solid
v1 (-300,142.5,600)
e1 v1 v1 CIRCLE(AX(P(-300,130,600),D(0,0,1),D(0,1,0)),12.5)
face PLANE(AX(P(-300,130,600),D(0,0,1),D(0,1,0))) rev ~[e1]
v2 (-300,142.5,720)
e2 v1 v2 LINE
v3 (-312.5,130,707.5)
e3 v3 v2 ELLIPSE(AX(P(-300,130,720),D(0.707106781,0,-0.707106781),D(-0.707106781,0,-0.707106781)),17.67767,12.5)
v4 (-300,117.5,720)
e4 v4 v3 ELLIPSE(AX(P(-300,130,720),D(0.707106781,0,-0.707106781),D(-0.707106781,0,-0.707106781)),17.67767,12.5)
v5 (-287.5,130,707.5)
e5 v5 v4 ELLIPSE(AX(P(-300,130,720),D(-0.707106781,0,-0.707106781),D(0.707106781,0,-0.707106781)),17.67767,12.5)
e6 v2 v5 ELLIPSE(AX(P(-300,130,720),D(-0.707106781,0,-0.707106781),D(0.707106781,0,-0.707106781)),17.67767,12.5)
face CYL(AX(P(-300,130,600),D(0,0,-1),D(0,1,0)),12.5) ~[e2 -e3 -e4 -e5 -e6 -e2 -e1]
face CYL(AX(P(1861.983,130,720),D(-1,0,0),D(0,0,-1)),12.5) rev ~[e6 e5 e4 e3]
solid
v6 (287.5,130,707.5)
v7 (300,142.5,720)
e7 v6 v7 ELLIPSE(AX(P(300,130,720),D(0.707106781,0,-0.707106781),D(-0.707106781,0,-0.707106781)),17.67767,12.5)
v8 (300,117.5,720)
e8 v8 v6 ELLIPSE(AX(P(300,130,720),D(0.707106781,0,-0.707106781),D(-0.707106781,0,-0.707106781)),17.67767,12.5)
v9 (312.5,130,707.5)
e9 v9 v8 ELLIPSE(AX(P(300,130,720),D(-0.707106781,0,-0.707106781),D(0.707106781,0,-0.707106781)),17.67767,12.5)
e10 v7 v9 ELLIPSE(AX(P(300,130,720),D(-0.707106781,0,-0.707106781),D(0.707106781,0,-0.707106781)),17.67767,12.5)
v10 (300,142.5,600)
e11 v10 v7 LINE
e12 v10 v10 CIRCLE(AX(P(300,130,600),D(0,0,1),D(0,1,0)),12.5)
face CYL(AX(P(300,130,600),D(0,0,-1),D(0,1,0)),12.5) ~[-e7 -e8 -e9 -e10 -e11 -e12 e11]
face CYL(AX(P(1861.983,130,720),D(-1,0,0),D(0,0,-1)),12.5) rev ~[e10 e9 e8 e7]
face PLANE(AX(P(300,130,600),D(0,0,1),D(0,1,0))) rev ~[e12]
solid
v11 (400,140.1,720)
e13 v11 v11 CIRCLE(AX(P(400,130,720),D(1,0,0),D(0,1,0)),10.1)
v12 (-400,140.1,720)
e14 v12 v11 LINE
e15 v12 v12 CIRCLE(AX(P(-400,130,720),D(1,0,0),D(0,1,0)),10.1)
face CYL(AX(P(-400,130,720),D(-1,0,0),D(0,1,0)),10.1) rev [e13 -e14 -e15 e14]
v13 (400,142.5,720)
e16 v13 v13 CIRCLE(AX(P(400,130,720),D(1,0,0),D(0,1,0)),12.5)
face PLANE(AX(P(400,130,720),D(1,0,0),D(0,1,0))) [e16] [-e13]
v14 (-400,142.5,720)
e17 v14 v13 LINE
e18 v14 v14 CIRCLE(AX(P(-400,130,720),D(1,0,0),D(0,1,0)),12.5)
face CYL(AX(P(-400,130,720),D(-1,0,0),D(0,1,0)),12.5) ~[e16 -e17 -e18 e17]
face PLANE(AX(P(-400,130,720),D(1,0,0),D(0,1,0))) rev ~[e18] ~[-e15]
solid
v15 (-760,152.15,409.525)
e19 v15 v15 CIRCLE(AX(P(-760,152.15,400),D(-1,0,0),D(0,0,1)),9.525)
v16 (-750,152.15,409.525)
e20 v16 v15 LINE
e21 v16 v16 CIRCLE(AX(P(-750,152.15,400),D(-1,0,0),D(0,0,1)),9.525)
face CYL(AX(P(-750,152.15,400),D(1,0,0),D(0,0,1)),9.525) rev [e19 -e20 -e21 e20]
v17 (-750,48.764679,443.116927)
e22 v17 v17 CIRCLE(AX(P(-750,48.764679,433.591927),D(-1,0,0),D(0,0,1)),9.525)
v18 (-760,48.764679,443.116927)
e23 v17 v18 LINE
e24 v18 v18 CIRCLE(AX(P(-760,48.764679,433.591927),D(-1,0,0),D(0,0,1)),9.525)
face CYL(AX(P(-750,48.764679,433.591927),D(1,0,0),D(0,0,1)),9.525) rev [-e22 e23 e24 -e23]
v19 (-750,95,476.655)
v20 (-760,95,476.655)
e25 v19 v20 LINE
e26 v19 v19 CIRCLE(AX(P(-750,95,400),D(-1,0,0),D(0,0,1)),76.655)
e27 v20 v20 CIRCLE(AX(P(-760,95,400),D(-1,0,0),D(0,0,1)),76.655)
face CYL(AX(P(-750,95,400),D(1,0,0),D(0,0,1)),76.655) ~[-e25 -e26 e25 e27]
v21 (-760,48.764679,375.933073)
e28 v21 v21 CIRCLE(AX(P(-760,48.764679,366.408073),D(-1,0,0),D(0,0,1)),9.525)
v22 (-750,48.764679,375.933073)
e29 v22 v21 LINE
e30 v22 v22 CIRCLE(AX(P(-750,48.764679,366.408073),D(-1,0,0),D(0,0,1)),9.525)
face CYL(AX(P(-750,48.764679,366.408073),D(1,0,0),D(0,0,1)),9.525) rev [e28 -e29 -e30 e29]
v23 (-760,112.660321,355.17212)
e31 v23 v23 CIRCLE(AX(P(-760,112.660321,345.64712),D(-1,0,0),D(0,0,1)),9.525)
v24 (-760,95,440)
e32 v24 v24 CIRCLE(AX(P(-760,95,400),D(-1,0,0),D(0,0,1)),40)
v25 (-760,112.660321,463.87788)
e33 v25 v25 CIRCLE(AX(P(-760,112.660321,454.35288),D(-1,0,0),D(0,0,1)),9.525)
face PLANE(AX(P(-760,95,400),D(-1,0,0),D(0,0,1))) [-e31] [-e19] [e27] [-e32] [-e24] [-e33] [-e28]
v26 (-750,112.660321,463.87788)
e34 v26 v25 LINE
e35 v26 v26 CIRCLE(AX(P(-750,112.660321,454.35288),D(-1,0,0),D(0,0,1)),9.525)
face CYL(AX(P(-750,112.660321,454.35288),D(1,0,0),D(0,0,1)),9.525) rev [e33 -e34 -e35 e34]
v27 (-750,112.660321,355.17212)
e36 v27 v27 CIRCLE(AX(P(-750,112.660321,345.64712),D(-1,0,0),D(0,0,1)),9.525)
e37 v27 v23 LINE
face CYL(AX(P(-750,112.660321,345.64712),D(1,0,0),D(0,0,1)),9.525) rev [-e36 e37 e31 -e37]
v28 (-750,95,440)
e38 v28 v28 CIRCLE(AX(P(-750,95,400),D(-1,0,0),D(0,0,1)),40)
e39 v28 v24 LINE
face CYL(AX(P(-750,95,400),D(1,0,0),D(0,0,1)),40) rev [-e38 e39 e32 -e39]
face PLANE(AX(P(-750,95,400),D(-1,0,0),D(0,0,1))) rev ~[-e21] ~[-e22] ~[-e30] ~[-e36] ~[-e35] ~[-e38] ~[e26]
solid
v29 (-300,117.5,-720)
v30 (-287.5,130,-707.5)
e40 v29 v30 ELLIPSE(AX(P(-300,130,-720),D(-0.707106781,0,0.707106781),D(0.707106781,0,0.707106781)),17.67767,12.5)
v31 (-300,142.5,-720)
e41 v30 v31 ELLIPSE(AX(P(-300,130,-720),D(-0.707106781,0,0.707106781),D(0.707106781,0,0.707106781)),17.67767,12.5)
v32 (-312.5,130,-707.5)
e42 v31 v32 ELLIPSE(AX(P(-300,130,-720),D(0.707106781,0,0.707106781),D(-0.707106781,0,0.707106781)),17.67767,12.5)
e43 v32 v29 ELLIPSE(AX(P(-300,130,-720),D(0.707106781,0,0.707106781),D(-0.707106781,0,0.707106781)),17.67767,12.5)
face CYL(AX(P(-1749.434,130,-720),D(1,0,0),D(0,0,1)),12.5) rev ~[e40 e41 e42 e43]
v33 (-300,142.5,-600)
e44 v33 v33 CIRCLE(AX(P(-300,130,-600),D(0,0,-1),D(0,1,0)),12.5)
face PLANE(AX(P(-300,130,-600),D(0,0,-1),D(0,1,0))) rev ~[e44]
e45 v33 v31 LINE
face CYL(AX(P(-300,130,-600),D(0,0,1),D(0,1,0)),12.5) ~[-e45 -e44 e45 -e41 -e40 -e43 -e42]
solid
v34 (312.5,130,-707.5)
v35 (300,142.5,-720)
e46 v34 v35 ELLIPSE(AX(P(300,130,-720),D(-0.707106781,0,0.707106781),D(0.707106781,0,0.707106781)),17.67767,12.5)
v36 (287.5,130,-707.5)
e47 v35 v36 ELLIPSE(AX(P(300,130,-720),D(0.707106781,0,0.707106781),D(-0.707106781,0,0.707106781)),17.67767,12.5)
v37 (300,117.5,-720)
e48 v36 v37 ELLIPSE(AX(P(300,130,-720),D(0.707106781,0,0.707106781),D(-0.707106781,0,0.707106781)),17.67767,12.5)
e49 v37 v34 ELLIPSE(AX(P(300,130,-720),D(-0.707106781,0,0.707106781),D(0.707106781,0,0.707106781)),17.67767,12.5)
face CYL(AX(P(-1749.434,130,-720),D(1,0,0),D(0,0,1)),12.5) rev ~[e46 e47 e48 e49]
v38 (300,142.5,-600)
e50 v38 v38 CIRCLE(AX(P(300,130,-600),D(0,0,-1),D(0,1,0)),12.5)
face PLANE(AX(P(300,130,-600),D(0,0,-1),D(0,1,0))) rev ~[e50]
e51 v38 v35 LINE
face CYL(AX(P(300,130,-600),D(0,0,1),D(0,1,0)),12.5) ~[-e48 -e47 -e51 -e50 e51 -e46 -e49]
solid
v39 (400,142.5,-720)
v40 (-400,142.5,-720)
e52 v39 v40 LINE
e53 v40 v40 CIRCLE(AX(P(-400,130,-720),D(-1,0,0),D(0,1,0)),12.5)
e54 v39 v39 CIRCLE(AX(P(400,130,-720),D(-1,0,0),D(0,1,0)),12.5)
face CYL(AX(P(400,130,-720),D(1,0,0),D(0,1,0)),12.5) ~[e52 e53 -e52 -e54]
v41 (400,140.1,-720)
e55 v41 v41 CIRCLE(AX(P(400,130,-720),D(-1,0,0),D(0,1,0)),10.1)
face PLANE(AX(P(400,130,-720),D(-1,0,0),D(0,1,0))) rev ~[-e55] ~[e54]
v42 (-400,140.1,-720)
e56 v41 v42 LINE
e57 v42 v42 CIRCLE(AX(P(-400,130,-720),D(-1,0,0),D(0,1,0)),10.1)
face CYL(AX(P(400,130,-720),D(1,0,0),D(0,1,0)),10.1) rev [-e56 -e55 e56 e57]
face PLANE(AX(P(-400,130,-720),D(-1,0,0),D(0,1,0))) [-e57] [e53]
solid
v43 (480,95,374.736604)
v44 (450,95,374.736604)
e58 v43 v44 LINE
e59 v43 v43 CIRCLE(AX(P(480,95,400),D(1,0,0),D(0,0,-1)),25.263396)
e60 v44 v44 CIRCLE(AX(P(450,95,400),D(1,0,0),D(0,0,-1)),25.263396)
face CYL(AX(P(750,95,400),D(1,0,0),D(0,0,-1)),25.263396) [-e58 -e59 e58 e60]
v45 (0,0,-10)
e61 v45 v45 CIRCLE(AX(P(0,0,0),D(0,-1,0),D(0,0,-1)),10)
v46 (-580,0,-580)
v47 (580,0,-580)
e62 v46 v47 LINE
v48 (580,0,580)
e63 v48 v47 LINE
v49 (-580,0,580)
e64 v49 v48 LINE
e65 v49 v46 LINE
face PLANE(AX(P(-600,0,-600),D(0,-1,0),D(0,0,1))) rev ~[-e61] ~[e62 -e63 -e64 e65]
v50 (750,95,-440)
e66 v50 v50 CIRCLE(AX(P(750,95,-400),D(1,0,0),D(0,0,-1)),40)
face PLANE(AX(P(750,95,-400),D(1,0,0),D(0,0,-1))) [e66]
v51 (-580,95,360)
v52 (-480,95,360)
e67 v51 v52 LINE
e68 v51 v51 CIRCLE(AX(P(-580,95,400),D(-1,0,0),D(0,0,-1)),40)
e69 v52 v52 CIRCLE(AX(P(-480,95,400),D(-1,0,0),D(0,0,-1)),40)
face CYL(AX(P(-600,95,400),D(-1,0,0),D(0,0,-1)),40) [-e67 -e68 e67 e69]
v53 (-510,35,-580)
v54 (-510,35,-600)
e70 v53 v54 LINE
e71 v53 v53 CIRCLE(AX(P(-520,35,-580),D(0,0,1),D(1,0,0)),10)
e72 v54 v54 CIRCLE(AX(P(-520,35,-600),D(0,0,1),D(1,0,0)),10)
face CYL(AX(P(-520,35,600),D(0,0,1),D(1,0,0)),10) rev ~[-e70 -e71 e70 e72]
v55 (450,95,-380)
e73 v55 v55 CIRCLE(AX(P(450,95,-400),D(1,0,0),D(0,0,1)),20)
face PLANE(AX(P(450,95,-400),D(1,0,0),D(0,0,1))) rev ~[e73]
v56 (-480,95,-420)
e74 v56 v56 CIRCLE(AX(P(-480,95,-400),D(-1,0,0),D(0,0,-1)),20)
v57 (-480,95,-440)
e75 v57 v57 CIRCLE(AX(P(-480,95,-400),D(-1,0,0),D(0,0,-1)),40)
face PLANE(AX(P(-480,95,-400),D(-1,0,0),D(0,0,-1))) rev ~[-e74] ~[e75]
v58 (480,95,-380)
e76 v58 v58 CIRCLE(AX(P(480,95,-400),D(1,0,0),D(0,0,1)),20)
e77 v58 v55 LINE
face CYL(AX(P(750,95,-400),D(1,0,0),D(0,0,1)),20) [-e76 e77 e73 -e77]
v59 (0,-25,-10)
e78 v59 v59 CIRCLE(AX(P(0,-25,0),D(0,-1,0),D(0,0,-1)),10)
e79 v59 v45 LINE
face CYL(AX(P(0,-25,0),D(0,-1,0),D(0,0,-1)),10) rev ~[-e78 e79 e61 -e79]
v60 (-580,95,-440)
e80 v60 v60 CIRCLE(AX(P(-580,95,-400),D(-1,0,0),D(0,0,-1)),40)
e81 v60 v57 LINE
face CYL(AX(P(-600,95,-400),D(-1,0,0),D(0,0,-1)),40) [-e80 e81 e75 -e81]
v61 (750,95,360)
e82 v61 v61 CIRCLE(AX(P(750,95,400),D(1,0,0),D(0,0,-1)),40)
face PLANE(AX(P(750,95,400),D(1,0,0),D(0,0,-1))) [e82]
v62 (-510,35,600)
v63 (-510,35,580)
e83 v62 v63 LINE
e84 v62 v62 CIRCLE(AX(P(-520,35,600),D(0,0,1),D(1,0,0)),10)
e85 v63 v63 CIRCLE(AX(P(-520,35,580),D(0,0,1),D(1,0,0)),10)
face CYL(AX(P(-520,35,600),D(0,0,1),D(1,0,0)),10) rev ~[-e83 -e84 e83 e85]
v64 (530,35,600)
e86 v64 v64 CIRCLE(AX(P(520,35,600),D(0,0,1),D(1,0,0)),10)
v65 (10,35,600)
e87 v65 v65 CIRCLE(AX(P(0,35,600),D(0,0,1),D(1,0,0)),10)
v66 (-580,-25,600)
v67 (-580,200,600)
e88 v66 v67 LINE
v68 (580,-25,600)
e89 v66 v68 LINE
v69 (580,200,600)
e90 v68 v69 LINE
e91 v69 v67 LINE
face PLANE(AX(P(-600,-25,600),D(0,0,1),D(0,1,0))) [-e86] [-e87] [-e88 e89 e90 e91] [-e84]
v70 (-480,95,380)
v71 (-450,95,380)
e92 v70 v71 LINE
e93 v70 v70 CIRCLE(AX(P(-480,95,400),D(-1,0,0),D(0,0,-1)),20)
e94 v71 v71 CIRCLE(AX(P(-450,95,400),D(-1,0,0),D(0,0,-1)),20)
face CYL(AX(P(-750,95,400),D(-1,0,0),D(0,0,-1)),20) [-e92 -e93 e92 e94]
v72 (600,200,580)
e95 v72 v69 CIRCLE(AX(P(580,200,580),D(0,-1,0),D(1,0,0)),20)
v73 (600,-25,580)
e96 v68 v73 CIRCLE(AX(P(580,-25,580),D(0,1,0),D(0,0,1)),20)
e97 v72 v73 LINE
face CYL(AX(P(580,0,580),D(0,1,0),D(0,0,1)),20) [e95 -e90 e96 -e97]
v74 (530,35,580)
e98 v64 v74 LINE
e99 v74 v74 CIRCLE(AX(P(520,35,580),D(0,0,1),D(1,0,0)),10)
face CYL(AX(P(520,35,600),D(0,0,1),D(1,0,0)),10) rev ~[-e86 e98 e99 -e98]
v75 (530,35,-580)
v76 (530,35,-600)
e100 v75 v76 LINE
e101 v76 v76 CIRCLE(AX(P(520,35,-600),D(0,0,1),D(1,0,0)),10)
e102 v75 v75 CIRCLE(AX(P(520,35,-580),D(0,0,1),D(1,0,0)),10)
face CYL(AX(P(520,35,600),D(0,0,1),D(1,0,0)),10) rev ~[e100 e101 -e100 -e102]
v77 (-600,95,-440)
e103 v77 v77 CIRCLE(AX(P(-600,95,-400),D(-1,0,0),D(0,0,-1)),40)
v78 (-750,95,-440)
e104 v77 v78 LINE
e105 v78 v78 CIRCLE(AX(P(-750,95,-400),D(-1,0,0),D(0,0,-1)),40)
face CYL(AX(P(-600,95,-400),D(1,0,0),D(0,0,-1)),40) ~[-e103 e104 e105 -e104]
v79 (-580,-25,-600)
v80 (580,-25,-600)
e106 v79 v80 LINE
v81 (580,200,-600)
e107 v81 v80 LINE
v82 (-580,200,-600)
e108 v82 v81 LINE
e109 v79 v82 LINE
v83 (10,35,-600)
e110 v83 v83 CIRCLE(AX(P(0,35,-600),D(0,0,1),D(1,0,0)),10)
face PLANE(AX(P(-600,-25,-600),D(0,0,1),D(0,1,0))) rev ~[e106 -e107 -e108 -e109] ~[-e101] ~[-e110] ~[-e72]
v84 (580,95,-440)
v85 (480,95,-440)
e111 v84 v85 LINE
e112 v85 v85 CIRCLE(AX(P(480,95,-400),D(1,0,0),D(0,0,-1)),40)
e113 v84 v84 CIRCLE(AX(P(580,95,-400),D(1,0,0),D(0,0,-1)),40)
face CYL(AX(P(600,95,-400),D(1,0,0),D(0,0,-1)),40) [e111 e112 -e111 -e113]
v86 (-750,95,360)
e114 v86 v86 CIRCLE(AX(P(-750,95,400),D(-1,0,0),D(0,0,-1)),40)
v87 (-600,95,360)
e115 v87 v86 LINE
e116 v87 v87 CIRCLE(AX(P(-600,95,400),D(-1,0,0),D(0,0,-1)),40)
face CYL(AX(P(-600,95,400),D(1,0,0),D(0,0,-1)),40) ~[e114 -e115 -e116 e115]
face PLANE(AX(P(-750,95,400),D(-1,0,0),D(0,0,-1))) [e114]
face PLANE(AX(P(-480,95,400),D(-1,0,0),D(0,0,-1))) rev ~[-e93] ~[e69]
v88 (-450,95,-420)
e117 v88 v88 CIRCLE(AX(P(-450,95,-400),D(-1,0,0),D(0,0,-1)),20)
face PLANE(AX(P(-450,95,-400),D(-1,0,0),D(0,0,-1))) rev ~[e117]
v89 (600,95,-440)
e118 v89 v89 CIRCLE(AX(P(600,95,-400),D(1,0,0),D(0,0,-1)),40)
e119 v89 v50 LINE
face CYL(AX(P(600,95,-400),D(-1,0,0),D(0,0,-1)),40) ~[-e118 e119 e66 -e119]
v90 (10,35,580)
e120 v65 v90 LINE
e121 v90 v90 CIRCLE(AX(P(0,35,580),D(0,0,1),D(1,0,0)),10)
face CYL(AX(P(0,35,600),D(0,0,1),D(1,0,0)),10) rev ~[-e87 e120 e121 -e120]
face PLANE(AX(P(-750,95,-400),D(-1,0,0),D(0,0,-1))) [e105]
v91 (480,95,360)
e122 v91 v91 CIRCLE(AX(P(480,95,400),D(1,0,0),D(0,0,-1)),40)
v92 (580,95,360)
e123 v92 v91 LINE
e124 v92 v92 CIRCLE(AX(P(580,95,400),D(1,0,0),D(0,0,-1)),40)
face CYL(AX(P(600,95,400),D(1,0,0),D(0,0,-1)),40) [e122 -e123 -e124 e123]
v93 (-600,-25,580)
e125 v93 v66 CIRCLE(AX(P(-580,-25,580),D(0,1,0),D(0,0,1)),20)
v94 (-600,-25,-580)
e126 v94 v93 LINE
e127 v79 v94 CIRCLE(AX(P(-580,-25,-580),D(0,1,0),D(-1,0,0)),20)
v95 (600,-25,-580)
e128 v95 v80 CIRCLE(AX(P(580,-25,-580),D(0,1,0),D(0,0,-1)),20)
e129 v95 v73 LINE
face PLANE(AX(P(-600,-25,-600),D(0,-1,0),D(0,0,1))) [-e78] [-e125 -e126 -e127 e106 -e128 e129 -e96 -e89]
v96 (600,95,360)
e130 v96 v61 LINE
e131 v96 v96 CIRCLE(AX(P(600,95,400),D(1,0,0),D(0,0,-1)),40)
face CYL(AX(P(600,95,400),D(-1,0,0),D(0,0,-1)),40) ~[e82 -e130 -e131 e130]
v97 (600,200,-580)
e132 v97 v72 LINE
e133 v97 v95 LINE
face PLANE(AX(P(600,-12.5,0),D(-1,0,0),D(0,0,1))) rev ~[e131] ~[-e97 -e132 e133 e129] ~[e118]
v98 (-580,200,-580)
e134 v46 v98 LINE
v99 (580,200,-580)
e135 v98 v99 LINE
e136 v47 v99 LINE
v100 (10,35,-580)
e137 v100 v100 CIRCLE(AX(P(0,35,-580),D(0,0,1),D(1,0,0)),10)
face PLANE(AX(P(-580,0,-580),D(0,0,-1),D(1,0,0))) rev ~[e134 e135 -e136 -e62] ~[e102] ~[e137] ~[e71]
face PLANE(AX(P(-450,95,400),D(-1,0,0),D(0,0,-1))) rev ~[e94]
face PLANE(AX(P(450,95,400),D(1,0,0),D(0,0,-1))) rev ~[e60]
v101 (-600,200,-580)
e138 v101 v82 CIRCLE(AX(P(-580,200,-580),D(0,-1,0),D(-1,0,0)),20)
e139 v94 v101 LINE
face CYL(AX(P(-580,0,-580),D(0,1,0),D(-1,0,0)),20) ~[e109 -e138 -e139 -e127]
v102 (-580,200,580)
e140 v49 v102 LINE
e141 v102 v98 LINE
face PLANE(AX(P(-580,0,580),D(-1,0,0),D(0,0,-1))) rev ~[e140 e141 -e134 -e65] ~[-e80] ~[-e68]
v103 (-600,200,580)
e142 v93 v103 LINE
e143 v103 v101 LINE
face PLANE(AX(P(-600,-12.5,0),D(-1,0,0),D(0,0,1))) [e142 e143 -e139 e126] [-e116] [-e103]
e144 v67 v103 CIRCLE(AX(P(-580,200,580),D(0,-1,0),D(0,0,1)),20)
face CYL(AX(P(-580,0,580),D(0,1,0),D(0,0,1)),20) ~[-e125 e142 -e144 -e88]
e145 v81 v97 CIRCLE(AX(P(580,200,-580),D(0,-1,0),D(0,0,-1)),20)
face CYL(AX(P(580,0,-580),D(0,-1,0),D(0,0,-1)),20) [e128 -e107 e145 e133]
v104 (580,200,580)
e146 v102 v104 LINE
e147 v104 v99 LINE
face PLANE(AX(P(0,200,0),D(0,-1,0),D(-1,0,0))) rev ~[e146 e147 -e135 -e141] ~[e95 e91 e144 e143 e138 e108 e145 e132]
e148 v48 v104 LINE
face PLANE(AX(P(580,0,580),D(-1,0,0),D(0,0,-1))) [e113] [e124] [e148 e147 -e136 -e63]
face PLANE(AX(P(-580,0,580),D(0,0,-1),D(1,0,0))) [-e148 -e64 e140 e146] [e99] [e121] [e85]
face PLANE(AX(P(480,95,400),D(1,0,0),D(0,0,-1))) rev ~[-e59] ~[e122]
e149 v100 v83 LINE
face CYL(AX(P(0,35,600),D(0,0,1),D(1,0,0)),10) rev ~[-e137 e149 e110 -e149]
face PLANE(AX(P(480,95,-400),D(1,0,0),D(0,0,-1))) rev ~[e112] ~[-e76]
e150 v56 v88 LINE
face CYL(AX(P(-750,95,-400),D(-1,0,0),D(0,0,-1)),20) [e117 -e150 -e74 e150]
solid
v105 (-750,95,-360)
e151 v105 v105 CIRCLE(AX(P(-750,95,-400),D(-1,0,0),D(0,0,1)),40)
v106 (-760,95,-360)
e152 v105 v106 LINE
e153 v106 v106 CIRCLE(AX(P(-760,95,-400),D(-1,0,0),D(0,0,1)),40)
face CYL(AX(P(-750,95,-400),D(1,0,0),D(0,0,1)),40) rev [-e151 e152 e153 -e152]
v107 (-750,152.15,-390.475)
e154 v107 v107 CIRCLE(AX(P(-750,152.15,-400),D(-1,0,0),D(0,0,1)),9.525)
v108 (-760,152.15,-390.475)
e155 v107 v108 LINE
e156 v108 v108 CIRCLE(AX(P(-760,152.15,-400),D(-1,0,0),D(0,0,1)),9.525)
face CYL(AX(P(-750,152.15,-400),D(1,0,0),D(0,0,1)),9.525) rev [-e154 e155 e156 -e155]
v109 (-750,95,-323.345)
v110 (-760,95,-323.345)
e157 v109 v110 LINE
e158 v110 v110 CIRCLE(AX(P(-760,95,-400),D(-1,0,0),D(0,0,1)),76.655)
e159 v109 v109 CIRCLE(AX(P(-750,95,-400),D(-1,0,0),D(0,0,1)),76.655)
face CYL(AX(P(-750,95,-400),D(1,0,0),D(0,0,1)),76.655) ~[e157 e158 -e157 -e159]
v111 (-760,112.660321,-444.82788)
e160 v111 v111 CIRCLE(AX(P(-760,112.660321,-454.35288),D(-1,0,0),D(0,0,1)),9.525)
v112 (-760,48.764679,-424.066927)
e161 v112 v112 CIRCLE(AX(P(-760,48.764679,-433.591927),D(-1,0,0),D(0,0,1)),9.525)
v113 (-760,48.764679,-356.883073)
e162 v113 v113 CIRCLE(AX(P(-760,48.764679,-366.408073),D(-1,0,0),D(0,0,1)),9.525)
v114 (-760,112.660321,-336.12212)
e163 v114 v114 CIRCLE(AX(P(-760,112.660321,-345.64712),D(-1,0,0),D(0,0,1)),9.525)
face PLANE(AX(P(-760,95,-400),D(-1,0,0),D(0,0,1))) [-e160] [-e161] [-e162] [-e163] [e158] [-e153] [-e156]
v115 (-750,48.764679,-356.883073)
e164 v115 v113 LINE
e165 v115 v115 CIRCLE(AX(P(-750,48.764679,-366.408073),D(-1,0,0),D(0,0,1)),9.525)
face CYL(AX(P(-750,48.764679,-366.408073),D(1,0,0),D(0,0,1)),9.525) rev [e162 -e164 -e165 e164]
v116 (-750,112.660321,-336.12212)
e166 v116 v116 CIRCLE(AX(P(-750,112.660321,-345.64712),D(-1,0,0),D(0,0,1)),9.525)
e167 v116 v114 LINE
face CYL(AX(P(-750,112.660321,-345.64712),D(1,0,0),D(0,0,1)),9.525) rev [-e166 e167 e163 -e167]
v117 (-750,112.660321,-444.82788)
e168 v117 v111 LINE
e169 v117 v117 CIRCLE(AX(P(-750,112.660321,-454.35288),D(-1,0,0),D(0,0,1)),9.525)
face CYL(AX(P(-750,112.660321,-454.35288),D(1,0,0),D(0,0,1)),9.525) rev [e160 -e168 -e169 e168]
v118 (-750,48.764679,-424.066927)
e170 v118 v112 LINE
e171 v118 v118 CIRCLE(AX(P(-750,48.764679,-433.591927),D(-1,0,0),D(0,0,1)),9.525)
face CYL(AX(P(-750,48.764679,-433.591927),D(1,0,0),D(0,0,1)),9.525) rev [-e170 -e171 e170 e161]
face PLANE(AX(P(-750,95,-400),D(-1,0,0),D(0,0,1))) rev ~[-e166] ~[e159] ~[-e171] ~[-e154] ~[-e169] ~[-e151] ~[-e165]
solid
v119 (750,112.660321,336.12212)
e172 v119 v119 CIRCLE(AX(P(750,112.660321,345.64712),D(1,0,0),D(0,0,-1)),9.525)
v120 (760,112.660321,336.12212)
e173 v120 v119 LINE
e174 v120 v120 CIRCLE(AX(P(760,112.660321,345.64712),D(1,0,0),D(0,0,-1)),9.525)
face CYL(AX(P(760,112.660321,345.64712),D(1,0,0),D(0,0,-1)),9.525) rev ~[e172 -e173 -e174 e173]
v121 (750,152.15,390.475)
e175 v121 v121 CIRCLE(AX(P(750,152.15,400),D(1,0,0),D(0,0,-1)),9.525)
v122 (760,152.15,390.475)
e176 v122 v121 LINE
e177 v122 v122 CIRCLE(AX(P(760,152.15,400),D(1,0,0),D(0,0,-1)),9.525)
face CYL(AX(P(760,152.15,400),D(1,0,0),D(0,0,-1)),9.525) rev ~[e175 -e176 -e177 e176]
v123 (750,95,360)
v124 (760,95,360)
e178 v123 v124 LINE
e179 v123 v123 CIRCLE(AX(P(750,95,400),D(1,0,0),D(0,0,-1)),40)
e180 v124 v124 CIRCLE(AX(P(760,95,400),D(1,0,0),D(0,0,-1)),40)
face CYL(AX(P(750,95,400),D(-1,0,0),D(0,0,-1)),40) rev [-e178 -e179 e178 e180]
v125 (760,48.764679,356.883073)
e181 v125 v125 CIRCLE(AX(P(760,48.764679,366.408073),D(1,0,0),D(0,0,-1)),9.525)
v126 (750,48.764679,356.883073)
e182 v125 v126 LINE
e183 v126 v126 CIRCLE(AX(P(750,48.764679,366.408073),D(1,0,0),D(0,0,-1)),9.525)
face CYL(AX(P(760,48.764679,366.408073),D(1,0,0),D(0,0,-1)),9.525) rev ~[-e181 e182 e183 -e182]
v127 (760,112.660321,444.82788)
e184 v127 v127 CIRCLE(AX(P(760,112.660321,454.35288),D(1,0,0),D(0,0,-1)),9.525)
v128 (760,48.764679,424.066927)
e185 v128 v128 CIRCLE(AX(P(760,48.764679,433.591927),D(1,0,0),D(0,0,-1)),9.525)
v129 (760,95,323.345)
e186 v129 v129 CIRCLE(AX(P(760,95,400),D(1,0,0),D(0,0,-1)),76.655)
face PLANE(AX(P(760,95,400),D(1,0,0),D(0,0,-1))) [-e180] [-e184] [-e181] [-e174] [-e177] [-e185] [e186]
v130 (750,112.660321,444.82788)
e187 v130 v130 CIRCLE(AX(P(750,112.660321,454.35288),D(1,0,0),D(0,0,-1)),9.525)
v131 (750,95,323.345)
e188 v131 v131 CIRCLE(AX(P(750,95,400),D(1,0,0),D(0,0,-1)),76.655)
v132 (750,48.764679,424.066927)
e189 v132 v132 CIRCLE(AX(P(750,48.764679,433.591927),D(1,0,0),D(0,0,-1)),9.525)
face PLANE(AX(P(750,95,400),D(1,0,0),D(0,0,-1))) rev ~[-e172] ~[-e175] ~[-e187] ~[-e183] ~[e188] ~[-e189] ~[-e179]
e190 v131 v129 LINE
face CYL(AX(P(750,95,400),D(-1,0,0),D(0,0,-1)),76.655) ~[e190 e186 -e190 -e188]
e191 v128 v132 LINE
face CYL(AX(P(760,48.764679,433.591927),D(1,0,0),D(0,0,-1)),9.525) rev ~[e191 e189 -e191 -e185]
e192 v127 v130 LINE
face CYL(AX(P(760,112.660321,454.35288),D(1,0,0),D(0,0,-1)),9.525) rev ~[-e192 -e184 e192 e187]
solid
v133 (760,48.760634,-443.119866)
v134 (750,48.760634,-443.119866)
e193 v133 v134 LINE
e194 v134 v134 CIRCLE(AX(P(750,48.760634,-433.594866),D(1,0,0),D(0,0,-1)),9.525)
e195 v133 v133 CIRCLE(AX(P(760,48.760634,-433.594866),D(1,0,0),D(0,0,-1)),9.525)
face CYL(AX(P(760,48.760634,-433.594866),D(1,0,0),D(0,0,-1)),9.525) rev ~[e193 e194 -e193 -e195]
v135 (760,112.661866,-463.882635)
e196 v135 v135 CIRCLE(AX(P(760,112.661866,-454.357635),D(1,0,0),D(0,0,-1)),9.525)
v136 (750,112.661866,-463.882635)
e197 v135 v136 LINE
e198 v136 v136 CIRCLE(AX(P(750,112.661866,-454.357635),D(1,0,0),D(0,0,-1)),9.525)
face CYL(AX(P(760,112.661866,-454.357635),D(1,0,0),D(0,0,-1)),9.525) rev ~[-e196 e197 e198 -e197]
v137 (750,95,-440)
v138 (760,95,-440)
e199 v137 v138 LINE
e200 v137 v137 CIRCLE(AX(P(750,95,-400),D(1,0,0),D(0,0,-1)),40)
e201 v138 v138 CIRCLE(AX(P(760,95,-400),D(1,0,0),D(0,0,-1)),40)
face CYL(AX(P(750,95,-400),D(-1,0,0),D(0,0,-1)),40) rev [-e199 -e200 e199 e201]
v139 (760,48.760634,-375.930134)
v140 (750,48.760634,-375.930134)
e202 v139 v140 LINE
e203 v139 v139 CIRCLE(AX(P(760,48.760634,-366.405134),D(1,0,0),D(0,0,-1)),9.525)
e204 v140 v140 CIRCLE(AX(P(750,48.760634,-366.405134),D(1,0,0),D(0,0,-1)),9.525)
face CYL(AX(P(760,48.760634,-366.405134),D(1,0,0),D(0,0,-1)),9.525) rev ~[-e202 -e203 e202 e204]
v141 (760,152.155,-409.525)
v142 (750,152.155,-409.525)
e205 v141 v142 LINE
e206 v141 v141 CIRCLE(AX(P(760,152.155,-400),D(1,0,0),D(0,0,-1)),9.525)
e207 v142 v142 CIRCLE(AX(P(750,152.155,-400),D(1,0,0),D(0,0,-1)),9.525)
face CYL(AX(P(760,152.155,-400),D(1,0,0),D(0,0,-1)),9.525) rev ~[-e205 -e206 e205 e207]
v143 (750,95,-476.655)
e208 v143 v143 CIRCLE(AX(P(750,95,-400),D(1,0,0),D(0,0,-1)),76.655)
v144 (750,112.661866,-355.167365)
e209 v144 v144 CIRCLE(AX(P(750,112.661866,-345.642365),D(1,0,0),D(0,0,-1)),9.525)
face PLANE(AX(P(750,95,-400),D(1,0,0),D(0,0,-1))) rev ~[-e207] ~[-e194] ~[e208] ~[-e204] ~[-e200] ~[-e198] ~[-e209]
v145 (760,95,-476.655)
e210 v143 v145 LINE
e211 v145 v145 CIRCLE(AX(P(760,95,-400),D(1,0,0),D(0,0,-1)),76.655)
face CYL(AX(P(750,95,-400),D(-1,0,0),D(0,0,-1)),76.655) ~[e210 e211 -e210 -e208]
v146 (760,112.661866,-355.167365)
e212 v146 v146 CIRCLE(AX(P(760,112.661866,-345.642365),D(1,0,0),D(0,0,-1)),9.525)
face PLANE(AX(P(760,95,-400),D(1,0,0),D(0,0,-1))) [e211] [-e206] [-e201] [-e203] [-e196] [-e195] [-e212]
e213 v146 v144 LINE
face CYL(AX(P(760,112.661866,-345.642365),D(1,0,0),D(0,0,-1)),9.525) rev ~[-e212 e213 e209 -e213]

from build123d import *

# Parameters (mm, degrees)
SKETCH1_W                  = 1160
SKETCH1_H                  = 1160
BOSS_EXTRUDE1_DEPTH        = 200
SKETCH2_W                  = 1200
SKETCH2_H                  = 25
BOSS_EXTRUDE2_DEPTH        = 1200
CUT_EXTRUDE1_DEPTH         = 300
CUT_EXTRUDE2_DEPTH         = 300
CUT_EXTRUDE3_DEPTH         = 300
CUT_EXTRUDE4_DEPTH         = 300
SKETCH13_R                 = 20
CUT_EXTRUDE8_DEPTH         = 1357.465996625
SKETCH13_3_R               = 40
SKETCH13_3_R_2             = 20
BOSS_EXTRUDE7_DEPTH        = 150
BOSS_EXTRUDE7_DEPTH_BACK   = 120
SKETCH14_R                 = 76.655
SKETCH14_R_2               = 40
BOSS_EXTRUDE8_DEPTH        = 10
SKETCH15_R                 = 9.525
CUT_EXTRUDE9_DEPTH         = 10
SKETCH18_R                 = 76.655
SKETCH18_R_2               = 40
BOSS_EXTRUDE9_DEPTH        = 10
SKETCH19_R                 = 9.525
CUT_EXTRUDE11_DEPTH        = 10
SKETCH20_R                 = 40
SKETCH20_R_2               = 20
BOSS_EXTRUDE10_DEPTH       = 150
BOSS_EXTRUDE10_DEPTH_BACK  = 120
SKETCH21_R                 = 76.655
SKETCH21_R_2               = 9.525
SKETCH21_R_3               = 40
BOSS_EXTRUDE11_DEPTH       = 10
BOSS_EXTRUDE11_2_DEPTH     = 10
SKETCH22_R                 = 20
BOSS_EXTRUDE12_DEPTH       = 300
SKETCH23_R                 = 20
BOSS_EXTRUDE13_DEPTH       = 300
SKETCH24_R                 = 25.26339589
SKETCH24_R_2               = 20
BOSS_EXTRUDE14_DEPTH       = 300
SKETCH114_R                = 12.5
SKETCH114_R_2              = 10.1
ROUND_END_25_X_2_4_1_DEPTH = 800
BOSS_EXTRUDE15_REACH       = 1436.434
BOSS_EXTRUDE15_END_RADIUS  = 12.5
SKETCH115_R                = 12.5
SKETCH117_R                = 12.5
SKETCH117_R_2              = 10.1
ROUND_END_25_X_2_4_2_DEPTH = 800
BOSS_EXTRUDE16_REACH       = 1548.983
BOSS_EXTRUDE16_END_RADIUS  = 12.5
SKETCH118_R                = 12.5
SKETCH119_R                = 10
CUT_EXTRUDE12_DEPTH        = 1242
SKETCH120_R                = 10
CUT_EXTRUDE13_DEPTH        = 25


with BuildPart() as part:
    # Sketch1 → Boss-Extrude1 (new body)
    with BuildSketch(Plane(origin=(0, 0, 0), x_dir=(1, 0, 0), z_dir=(0, 1, 0))):
        with BuildLine():
            Line((-580, 600), (580, 600))
            ThreePointArc((580, 600), (594.142135624, 594.142135624), (600, 580))
            Line((600, 580), (600, -580))
            ThreePointArc((600, -580), (594.142135624, -594.142135624), (580, -600))
            Line((580, -600), (-580, -600))
            ThreePointArc((-580, -600), (-594.142135624, -594.142135624), (-600, -580))
            Line((-600, -580), (-600, 580))
            ThreePointArc((-600, 580), (-594.142135624, 594.142135624), (-580, 600))
        make_face()
        Rectangle(SKETCH1_W, SKETCH1_H, mode=Mode.SUBTRACT)
    extrude(amount=BOSS_EXTRUDE1_DEPTH)

    # Sketch2 → Boss-Extrude2 (add)
    with BuildSketch(Plane.ZY.offset(600)):
        with Locations((0, -12.5)):
            Rectangle(SKETCH2_W, SKETCH2_H)
    extrude(amount=-BOSS_EXTRUDE2_DEPTH)

    # Sketch5 → Cut-Extrude1 (cut)
    with BuildSketch(Plane(origin=(0, 0, 0), x_dir=(1, 0, 0), z_dir=(0, 1, 0))):
        with BuildLine():
            Line((600, -580), (600, -600))
            Line((600, -600), (580, -600))
            ThreePointArc((580, -600), (594.142135624, -594.142135624), (600, -580))
        make_face()
    extrude(amount=-CUT_EXTRUDE1_DEPTH, mode=Mode.SUBTRACT)

    # Sketch6 → Cut-Extrude2 (cut)
    with BuildSketch(Plane(origin=(0, 0, 0), x_dir=(1, 0, 0), z_dir=(0, 1, 0))):
        with BuildLine():
            Line((-600, -580), (-600, -600))
            Line((-600, -600), (-580, -600))
            ThreePointArc((-580, -600), (-594.142135624, -594.142135624), (-600, -580))
        make_face()
    extrude(amount=-CUT_EXTRUDE2_DEPTH, mode=Mode.SUBTRACT)

    # Sketch7 → Cut-Extrude3 (cut)
    with BuildSketch(Plane(origin=(0, 0, 0), x_dir=(1, 0, 0), z_dir=(0, 1, 0))):
        with BuildLine():
            Line((600, 580), (600, 600))
            Line((600, 600), (580, 600))
            ThreePointArc((580, 600), (594.142135624, 594.142135624), (600, 580))
        make_face()
    extrude(amount=-CUT_EXTRUDE3_DEPTH, mode=Mode.SUBTRACT)

    # Sketch8 → Cut-Extrude4 (cut)
    with BuildSketch(Plane(origin=(0, 0, 0), x_dir=(1, 0, 0), z_dir=(0, 1, 0))):
        with BuildLine():
            Line((-580, 600), (-600, 600))
            Line((-600, 600), (-600, 580))
            ThreePointArc((-600, 580), (-594.142135624, 594.142135624), (-580, 600))
        make_face()
    extrude(amount=-CUT_EXTRUDE4_DEPTH, mode=Mode.SUBTRACT)

    # Sketch13 → Cut-Extrude8 (cut, through all)
    with BuildSketch(Plane(origin=(600, 0, 0), x_dir=(0, 0, -1), z_dir=(1, 0, 0))):
        with Locations((-400, 95)):
            Circle(SKETCH13_R)
        with Locations((400, 95)):
            Circle(SKETCH13_R)
    extrude(amount=-CUT_EXTRUDE8_DEPTH, mode=Mode.SUBTRACT)

    # Sketch13<3> → Boss-Extrude7 (add, two sides)
    with BuildSketch(Plane(origin=(600, 0, 0), x_dir=(0, 0, -1), z_dir=(1, 0, 0))) as boss_extrude7_sk:
        with Locations((-400, 95)):
            Circle(SKETCH13_3_R)
        with Locations((-400, 95)):
            Circle(SKETCH13_3_R_2, mode=Mode.SUBTRACT)
        with Locations((400, 95)):
            Circle(SKETCH13_3_R)
        with Locations((400, 95)):
            Circle(SKETCH13_3_R_2, mode=Mode.SUBTRACT)
    extrude(amount=BOSS_EXTRUDE7_DEPTH)
    extrude(boss_extrude7_sk.sketch, amount=-BOSS_EXTRUDE7_DEPTH_BACK)

    # Sketch20 → Boss-Extrude10 (add, two sides)
    with BuildSketch(Plane.ZY.offset(600)) as boss_extrude10_sk:
        with Locations(Location((400, 95, 0), (0, 0, 180))):
            Circle(SKETCH20_R)
        with Locations(Location((400, 95, 0), (0, 0, 180))):
            Circle(SKETCH20_R_2, mode=Mode.SUBTRACT)
        with Locations(Location((-400, 95, 0), (0, 0, 180))):
            Circle(SKETCH20_R)
        with Locations(Location((-400, 95, 0), (0, 0, 180))):
            Circle(SKETCH20_R_2, mode=Mode.SUBTRACT)
    extrude(amount=BOSS_EXTRUDE10_DEPTH)
    extrude(boss_extrude10_sk.sketch, amount=-BOSS_EXTRUDE10_DEPTH_BACK)

    # Sketch22 → Boss-Extrude12 (add)
    with BuildSketch(Plane.ZY.offset(750)):
        with Locations(Location((-400, 95, 0), (0, 0, 180))):
            Circle(SKETCH22_R)
    extrude(amount=-BOSS_EXTRUDE12_DEPTH)

    # Sketch23 → Boss-Extrude13 (add)
    with BuildSketch(Plane.ZY.offset(750)):
        with Locations(Location((400, 95, 0), (0, 0, 180))):
            Circle(SKETCH23_R)
    extrude(amount=-BOSS_EXTRUDE13_DEPTH)

    # Sketch24 → Boss-Extrude14 (add)
    with BuildSketch(Plane(origin=(750, 0, 0), x_dir=(0, 0, -1), z_dir=(1, 0, 0))):
        with Locations((-400, 95)):
            Circle(SKETCH24_R)
        with Locations(Location((400, 95, 0), (0, 0, 180))):
            Circle(SKETCH24_R_2)
    extrude(amount=-BOSS_EXTRUDE14_DEPTH)

    # Sketch119 → Cut-Extrude12 (cut)
    with BuildSketch(Plane.XY.offset(600)):
        with Locations((0, 35)):
            Circle(SKETCH119_R)
        with Locations((-520, 35)):
            Circle(SKETCH119_R)
        with Locations((520, 35)):
            Circle(SKETCH119_R)
    extrude(amount=-CUT_EXTRUDE12_DEPTH, mode=Mode.SUBTRACT)

    # Sketch120 → Cut-Extrude13 (cut)
    with BuildSketch(Plane.XZ.offset(25)):
        with Locations(Location((0, 0, 0), (0, 0, 270))):
            Circle(SKETCH120_R)
    extrude(amount=-CUT_EXTRUDE13_DEPTH, mode=Mode.SUBTRACT)


with BuildPart() as body_2:
    # Sketch14 → Boss-Extrude8 (new body)
    with BuildSketch(Plane(origin=(750, 0, 0), x_dir=(0, 0, -1), z_dir=(1, 0, 0))):
        with Locations((-400, 95)):
            Circle(SKETCH14_R)
        with Locations((-400, 95)):
            Circle(SKETCH14_R_2, mode=Mode.SUBTRACT)
    extrude(amount=BOSS_EXTRUDE8_DEPTH)

    # Sketch15 → Cut-Extrude9 (cut)
    with BuildSketch(Plane(origin=(760, 0, 0), x_dir=(0, 0, -1), z_dir=(1, 0, 0))):
        with Locations((-400, 152.15)):
            Circle(SKETCH15_R)
        with Locations((400.614525981, 1139.801358827)):
            Circle(SKETCH15_R)
        with Locations((1587.330281093, 683.572751247)):
            Circle(SKETCH15_R)
        with Locations((1520.146426756, -586.043393704)):
            Circle(SKETCH15_R)
        with Locations((291.908766169, -914.48071637)):
            Circle(SKETCH15_R)
        with Locations((-345.647120094, 112.660321229)):
            Circle(SKETCH15_R)
        with Locations((-366.408072831, 48.764678771)):
            Circle(SKETCH15_R)
        with Locations((-433.591927169, 48.764678771)):
            Circle(SKETCH15_R)
        with Locations((-454.352879906, 112.660321229)):
            Circle(SKETCH15_R)
    extrude(amount=-CUT_EXTRUDE9_DEPTH, mode=Mode.SUBTRACT)


with BuildPart() as body_3:
    # Sketch18 → Boss-Extrude9 (new body)
    with BuildSketch(Plane(origin=(750, 0, 0), x_dir=(0, 0, -1), z_dir=(1, 0, 0))):
        with Locations((400, 95)):
            Circle(SKETCH18_R)
        with Locations((400, 95)):
            Circle(SKETCH18_R_2, mode=Mode.SUBTRACT)
    extrude(amount=BOSS_EXTRUDE9_DEPTH)

    # Sketch19 → Cut-Extrude11 (cut)
    with BuildSketch(Plane(origin=(760, 0, 0), x_dir=(0, 0, -1), z_dir=(1, 0, 0))):
        with Locations((400, 152.155)):
            Circle(SKETCH19_R)
        with Locations((454.357635189, 112.661866314)):
            Circle(SKETCH19_R)
        with Locations((433.594866095, 48.760633686)):
            Circle(SKETCH19_R)
        with Locations((366.405133905, 48.760633686)):
            Circle(SKETCH19_R)
        with Locations((345.642364811, 112.661866314)):
            Circle(SKETCH19_R)
    extrude(amount=-CUT_EXTRUDE11_DEPTH, mode=Mode.SUBTRACT)


with BuildPart() as body_4:
    # Sketch21 → Boss-Extrude11 (new body)
    with BuildSketch(Plane.ZY.offset(750)):
        with Locations((-400, 95)):
            Circle(SKETCH21_R)
        with Locations((-400, 152.15)):
            Circle(SKETCH21_R_2, mode=Mode.SUBTRACT)
        with Locations((-345.647120094, 112.660321229)):
            Circle(SKETCH21_R_2, mode=Mode.SUBTRACT)
        with Locations((-366.408072831, 48.764678771)):
            Circle(SKETCH21_R_2, mode=Mode.SUBTRACT)
        with Locations((-433.591927169, 48.764678771)):
            Circle(SKETCH21_R_2, mode=Mode.SUBTRACT)
        with Locations((-454.352879906, 112.660321229)):
            Circle(SKETCH21_R_2, mode=Mode.SUBTRACT)
        with Locations((-400, 95)):
            Circle(SKETCH21_R_3, mode=Mode.SUBTRACT)
    extrude(amount=BOSS_EXTRUDE11_DEPTH)


with BuildPart() as body_5:
    # Sketch21 → Boss-Extrude11 2 (new body)
    with BuildSketch(Plane.ZY.offset(750)):
        with Locations((400, 95)):
            Circle(SKETCH21_R)
        with Locations((400, 152.15)):
            Circle(SKETCH21_R_2, mode=Mode.SUBTRACT)
        with Locations((454.352879906, 112.660321229)):
            Circle(SKETCH21_R_2, mode=Mode.SUBTRACT)
        with Locations((433.591927169, 48.764678771)):
            Circle(SKETCH21_R_2, mode=Mode.SUBTRACT)
        with Locations((366.408072831, 48.764678771)):
            Circle(SKETCH21_R_2, mode=Mode.SUBTRACT)
        with Locations((345.647120094, 112.660321229)):
            Circle(SKETCH21_R_2, mode=Mode.SUBTRACT)
        with Locations((400, 95)):
            Circle(SKETCH21_R_3, mode=Mode.SUBTRACT)
    extrude(amount=BOSS_EXTRUDE11_2_DEPTH)


with BuildPart() as body_6:
    # Sketch114 → Round end 25 X 2.4(1) (new body)
    with BuildSketch(Plane(origin=(400, 130, -720), x_dir=(0, 1, 0), z_dir=(-1, 0, 0))):
        Circle(SKETCH114_R)
        Circle(SKETCH114_R_2, mode=Mode.SUBTRACT)
    extrude(amount=ROUND_END_25_X_2_4_1_DEPTH)


with BuildPart() as body_7:
    # Boss-Extrude15: up to this cylinder (the profile starts outside it)
    boss_extrude15_end = Plane(origin=(0, 130, -720), z_dir=(1, 0, 0)) * Cylinder(BOSS_EXTRUDE15_END_RADIUS, 3498.868, mode=Mode.PRIVATE)
    # Sketch115 → Boss-Extrude15 (new, up to the surface)
    with BuildSketch(Plane(origin=(0, 0, -600), x_dir=(-1, 0, 0), z_dir=(0, 0, -1)), mode=Mode.PRIVATE) as boss_extrude15_sk1:
        with Locations(Location((-300, 130, 0), (0, 0, 90))):
            Circle(SKETCH115_R)
    boss_extrude15_tool1 = extrude(boss_extrude15_sk1.sketch, amount=BOSS_EXTRUDE15_REACH, mode=Mode.PRIVATE) - boss_extrude15_end
    add(boss_extrude15_tool1.solids().sort_by_distance((300, 130, -600))[0])
    # Sketch115 → Boss-Extrude15 (new, up to the surface)
    with BuildSketch(Plane(origin=(0, 0, -600), x_dir=(-1, 0, 0), z_dir=(0, 0, -1)), mode=Mode.PRIVATE) as boss_extrude15_sk2:
        with Locations(Location((300, 130, 0), (0, 0, 90))):
            Circle(SKETCH115_R)
    boss_extrude15_tool2 = extrude(boss_extrude15_sk2.sketch, amount=BOSS_EXTRUDE15_REACH, mode=Mode.PRIVATE) - boss_extrude15_end
    add(boss_extrude15_tool2.solids().sort_by_distance((-300, 130, -600))[0])


with BuildPart() as body_8:
    # Sketch117 → Round end 25 X 2.4(2) (new body)
    with BuildSketch(Plane(origin=(-400, 130, 720), x_dir=(0, 1, 0), z_dir=(1, 0, 0))):
        Circle(SKETCH117_R)
        Circle(SKETCH117_R_2, mode=Mode.SUBTRACT)
    extrude(amount=ROUND_END_25_X_2_4_2_DEPTH)


with BuildPart() as body_9:
    # Boss-Extrude16: up to this cylinder (the profile starts outside it)
    boss_extrude16_end = Plane(origin=(0, 130, 720), z_dir=(-1, 0, 0)) * Cylinder(BOSS_EXTRUDE16_END_RADIUS, 3723.966, mode=Mode.PRIVATE)
    # Sketch118 → Boss-Extrude16 (new, up to the surface)
    with BuildSketch(Plane.XY.offset(600), mode=Mode.PRIVATE) as boss_extrude16_sk1:
        with Locations(Location((-300, 130, 0), (0, 0, 90))):
            Circle(SKETCH118_R)
    boss_extrude16_tool1 = extrude(boss_extrude16_sk1.sketch, amount=BOSS_EXTRUDE16_REACH, mode=Mode.PRIVATE) - boss_extrude16_end
    add(boss_extrude16_tool1.solids().sort_by_distance((-300, 130, 600))[0])
    # Sketch118 → Boss-Extrude16 (new, up to the surface)
    with BuildSketch(Plane.XY.offset(600), mode=Mode.PRIVATE) as boss_extrude16_sk2:
        with Locations(Location((300, 130, 0), (0, 0, 90))):
            Circle(SKETCH118_R)
    boss_extrude16_tool2 = extrude(boss_extrude16_sk2.sketch, amount=BOSS_EXTRUDE16_REACH, mode=Mode.PRIVATE) - boss_extrude16_end
    add(boss_extrude16_tool2.solids().sort_by_distance((300, 130, 600))[0])


solid = Compound([part.part, body_2.part, body_3.part, body_4.part, body_5.part, body_6.part, body_7.part, body_8.part, body_9.part])
